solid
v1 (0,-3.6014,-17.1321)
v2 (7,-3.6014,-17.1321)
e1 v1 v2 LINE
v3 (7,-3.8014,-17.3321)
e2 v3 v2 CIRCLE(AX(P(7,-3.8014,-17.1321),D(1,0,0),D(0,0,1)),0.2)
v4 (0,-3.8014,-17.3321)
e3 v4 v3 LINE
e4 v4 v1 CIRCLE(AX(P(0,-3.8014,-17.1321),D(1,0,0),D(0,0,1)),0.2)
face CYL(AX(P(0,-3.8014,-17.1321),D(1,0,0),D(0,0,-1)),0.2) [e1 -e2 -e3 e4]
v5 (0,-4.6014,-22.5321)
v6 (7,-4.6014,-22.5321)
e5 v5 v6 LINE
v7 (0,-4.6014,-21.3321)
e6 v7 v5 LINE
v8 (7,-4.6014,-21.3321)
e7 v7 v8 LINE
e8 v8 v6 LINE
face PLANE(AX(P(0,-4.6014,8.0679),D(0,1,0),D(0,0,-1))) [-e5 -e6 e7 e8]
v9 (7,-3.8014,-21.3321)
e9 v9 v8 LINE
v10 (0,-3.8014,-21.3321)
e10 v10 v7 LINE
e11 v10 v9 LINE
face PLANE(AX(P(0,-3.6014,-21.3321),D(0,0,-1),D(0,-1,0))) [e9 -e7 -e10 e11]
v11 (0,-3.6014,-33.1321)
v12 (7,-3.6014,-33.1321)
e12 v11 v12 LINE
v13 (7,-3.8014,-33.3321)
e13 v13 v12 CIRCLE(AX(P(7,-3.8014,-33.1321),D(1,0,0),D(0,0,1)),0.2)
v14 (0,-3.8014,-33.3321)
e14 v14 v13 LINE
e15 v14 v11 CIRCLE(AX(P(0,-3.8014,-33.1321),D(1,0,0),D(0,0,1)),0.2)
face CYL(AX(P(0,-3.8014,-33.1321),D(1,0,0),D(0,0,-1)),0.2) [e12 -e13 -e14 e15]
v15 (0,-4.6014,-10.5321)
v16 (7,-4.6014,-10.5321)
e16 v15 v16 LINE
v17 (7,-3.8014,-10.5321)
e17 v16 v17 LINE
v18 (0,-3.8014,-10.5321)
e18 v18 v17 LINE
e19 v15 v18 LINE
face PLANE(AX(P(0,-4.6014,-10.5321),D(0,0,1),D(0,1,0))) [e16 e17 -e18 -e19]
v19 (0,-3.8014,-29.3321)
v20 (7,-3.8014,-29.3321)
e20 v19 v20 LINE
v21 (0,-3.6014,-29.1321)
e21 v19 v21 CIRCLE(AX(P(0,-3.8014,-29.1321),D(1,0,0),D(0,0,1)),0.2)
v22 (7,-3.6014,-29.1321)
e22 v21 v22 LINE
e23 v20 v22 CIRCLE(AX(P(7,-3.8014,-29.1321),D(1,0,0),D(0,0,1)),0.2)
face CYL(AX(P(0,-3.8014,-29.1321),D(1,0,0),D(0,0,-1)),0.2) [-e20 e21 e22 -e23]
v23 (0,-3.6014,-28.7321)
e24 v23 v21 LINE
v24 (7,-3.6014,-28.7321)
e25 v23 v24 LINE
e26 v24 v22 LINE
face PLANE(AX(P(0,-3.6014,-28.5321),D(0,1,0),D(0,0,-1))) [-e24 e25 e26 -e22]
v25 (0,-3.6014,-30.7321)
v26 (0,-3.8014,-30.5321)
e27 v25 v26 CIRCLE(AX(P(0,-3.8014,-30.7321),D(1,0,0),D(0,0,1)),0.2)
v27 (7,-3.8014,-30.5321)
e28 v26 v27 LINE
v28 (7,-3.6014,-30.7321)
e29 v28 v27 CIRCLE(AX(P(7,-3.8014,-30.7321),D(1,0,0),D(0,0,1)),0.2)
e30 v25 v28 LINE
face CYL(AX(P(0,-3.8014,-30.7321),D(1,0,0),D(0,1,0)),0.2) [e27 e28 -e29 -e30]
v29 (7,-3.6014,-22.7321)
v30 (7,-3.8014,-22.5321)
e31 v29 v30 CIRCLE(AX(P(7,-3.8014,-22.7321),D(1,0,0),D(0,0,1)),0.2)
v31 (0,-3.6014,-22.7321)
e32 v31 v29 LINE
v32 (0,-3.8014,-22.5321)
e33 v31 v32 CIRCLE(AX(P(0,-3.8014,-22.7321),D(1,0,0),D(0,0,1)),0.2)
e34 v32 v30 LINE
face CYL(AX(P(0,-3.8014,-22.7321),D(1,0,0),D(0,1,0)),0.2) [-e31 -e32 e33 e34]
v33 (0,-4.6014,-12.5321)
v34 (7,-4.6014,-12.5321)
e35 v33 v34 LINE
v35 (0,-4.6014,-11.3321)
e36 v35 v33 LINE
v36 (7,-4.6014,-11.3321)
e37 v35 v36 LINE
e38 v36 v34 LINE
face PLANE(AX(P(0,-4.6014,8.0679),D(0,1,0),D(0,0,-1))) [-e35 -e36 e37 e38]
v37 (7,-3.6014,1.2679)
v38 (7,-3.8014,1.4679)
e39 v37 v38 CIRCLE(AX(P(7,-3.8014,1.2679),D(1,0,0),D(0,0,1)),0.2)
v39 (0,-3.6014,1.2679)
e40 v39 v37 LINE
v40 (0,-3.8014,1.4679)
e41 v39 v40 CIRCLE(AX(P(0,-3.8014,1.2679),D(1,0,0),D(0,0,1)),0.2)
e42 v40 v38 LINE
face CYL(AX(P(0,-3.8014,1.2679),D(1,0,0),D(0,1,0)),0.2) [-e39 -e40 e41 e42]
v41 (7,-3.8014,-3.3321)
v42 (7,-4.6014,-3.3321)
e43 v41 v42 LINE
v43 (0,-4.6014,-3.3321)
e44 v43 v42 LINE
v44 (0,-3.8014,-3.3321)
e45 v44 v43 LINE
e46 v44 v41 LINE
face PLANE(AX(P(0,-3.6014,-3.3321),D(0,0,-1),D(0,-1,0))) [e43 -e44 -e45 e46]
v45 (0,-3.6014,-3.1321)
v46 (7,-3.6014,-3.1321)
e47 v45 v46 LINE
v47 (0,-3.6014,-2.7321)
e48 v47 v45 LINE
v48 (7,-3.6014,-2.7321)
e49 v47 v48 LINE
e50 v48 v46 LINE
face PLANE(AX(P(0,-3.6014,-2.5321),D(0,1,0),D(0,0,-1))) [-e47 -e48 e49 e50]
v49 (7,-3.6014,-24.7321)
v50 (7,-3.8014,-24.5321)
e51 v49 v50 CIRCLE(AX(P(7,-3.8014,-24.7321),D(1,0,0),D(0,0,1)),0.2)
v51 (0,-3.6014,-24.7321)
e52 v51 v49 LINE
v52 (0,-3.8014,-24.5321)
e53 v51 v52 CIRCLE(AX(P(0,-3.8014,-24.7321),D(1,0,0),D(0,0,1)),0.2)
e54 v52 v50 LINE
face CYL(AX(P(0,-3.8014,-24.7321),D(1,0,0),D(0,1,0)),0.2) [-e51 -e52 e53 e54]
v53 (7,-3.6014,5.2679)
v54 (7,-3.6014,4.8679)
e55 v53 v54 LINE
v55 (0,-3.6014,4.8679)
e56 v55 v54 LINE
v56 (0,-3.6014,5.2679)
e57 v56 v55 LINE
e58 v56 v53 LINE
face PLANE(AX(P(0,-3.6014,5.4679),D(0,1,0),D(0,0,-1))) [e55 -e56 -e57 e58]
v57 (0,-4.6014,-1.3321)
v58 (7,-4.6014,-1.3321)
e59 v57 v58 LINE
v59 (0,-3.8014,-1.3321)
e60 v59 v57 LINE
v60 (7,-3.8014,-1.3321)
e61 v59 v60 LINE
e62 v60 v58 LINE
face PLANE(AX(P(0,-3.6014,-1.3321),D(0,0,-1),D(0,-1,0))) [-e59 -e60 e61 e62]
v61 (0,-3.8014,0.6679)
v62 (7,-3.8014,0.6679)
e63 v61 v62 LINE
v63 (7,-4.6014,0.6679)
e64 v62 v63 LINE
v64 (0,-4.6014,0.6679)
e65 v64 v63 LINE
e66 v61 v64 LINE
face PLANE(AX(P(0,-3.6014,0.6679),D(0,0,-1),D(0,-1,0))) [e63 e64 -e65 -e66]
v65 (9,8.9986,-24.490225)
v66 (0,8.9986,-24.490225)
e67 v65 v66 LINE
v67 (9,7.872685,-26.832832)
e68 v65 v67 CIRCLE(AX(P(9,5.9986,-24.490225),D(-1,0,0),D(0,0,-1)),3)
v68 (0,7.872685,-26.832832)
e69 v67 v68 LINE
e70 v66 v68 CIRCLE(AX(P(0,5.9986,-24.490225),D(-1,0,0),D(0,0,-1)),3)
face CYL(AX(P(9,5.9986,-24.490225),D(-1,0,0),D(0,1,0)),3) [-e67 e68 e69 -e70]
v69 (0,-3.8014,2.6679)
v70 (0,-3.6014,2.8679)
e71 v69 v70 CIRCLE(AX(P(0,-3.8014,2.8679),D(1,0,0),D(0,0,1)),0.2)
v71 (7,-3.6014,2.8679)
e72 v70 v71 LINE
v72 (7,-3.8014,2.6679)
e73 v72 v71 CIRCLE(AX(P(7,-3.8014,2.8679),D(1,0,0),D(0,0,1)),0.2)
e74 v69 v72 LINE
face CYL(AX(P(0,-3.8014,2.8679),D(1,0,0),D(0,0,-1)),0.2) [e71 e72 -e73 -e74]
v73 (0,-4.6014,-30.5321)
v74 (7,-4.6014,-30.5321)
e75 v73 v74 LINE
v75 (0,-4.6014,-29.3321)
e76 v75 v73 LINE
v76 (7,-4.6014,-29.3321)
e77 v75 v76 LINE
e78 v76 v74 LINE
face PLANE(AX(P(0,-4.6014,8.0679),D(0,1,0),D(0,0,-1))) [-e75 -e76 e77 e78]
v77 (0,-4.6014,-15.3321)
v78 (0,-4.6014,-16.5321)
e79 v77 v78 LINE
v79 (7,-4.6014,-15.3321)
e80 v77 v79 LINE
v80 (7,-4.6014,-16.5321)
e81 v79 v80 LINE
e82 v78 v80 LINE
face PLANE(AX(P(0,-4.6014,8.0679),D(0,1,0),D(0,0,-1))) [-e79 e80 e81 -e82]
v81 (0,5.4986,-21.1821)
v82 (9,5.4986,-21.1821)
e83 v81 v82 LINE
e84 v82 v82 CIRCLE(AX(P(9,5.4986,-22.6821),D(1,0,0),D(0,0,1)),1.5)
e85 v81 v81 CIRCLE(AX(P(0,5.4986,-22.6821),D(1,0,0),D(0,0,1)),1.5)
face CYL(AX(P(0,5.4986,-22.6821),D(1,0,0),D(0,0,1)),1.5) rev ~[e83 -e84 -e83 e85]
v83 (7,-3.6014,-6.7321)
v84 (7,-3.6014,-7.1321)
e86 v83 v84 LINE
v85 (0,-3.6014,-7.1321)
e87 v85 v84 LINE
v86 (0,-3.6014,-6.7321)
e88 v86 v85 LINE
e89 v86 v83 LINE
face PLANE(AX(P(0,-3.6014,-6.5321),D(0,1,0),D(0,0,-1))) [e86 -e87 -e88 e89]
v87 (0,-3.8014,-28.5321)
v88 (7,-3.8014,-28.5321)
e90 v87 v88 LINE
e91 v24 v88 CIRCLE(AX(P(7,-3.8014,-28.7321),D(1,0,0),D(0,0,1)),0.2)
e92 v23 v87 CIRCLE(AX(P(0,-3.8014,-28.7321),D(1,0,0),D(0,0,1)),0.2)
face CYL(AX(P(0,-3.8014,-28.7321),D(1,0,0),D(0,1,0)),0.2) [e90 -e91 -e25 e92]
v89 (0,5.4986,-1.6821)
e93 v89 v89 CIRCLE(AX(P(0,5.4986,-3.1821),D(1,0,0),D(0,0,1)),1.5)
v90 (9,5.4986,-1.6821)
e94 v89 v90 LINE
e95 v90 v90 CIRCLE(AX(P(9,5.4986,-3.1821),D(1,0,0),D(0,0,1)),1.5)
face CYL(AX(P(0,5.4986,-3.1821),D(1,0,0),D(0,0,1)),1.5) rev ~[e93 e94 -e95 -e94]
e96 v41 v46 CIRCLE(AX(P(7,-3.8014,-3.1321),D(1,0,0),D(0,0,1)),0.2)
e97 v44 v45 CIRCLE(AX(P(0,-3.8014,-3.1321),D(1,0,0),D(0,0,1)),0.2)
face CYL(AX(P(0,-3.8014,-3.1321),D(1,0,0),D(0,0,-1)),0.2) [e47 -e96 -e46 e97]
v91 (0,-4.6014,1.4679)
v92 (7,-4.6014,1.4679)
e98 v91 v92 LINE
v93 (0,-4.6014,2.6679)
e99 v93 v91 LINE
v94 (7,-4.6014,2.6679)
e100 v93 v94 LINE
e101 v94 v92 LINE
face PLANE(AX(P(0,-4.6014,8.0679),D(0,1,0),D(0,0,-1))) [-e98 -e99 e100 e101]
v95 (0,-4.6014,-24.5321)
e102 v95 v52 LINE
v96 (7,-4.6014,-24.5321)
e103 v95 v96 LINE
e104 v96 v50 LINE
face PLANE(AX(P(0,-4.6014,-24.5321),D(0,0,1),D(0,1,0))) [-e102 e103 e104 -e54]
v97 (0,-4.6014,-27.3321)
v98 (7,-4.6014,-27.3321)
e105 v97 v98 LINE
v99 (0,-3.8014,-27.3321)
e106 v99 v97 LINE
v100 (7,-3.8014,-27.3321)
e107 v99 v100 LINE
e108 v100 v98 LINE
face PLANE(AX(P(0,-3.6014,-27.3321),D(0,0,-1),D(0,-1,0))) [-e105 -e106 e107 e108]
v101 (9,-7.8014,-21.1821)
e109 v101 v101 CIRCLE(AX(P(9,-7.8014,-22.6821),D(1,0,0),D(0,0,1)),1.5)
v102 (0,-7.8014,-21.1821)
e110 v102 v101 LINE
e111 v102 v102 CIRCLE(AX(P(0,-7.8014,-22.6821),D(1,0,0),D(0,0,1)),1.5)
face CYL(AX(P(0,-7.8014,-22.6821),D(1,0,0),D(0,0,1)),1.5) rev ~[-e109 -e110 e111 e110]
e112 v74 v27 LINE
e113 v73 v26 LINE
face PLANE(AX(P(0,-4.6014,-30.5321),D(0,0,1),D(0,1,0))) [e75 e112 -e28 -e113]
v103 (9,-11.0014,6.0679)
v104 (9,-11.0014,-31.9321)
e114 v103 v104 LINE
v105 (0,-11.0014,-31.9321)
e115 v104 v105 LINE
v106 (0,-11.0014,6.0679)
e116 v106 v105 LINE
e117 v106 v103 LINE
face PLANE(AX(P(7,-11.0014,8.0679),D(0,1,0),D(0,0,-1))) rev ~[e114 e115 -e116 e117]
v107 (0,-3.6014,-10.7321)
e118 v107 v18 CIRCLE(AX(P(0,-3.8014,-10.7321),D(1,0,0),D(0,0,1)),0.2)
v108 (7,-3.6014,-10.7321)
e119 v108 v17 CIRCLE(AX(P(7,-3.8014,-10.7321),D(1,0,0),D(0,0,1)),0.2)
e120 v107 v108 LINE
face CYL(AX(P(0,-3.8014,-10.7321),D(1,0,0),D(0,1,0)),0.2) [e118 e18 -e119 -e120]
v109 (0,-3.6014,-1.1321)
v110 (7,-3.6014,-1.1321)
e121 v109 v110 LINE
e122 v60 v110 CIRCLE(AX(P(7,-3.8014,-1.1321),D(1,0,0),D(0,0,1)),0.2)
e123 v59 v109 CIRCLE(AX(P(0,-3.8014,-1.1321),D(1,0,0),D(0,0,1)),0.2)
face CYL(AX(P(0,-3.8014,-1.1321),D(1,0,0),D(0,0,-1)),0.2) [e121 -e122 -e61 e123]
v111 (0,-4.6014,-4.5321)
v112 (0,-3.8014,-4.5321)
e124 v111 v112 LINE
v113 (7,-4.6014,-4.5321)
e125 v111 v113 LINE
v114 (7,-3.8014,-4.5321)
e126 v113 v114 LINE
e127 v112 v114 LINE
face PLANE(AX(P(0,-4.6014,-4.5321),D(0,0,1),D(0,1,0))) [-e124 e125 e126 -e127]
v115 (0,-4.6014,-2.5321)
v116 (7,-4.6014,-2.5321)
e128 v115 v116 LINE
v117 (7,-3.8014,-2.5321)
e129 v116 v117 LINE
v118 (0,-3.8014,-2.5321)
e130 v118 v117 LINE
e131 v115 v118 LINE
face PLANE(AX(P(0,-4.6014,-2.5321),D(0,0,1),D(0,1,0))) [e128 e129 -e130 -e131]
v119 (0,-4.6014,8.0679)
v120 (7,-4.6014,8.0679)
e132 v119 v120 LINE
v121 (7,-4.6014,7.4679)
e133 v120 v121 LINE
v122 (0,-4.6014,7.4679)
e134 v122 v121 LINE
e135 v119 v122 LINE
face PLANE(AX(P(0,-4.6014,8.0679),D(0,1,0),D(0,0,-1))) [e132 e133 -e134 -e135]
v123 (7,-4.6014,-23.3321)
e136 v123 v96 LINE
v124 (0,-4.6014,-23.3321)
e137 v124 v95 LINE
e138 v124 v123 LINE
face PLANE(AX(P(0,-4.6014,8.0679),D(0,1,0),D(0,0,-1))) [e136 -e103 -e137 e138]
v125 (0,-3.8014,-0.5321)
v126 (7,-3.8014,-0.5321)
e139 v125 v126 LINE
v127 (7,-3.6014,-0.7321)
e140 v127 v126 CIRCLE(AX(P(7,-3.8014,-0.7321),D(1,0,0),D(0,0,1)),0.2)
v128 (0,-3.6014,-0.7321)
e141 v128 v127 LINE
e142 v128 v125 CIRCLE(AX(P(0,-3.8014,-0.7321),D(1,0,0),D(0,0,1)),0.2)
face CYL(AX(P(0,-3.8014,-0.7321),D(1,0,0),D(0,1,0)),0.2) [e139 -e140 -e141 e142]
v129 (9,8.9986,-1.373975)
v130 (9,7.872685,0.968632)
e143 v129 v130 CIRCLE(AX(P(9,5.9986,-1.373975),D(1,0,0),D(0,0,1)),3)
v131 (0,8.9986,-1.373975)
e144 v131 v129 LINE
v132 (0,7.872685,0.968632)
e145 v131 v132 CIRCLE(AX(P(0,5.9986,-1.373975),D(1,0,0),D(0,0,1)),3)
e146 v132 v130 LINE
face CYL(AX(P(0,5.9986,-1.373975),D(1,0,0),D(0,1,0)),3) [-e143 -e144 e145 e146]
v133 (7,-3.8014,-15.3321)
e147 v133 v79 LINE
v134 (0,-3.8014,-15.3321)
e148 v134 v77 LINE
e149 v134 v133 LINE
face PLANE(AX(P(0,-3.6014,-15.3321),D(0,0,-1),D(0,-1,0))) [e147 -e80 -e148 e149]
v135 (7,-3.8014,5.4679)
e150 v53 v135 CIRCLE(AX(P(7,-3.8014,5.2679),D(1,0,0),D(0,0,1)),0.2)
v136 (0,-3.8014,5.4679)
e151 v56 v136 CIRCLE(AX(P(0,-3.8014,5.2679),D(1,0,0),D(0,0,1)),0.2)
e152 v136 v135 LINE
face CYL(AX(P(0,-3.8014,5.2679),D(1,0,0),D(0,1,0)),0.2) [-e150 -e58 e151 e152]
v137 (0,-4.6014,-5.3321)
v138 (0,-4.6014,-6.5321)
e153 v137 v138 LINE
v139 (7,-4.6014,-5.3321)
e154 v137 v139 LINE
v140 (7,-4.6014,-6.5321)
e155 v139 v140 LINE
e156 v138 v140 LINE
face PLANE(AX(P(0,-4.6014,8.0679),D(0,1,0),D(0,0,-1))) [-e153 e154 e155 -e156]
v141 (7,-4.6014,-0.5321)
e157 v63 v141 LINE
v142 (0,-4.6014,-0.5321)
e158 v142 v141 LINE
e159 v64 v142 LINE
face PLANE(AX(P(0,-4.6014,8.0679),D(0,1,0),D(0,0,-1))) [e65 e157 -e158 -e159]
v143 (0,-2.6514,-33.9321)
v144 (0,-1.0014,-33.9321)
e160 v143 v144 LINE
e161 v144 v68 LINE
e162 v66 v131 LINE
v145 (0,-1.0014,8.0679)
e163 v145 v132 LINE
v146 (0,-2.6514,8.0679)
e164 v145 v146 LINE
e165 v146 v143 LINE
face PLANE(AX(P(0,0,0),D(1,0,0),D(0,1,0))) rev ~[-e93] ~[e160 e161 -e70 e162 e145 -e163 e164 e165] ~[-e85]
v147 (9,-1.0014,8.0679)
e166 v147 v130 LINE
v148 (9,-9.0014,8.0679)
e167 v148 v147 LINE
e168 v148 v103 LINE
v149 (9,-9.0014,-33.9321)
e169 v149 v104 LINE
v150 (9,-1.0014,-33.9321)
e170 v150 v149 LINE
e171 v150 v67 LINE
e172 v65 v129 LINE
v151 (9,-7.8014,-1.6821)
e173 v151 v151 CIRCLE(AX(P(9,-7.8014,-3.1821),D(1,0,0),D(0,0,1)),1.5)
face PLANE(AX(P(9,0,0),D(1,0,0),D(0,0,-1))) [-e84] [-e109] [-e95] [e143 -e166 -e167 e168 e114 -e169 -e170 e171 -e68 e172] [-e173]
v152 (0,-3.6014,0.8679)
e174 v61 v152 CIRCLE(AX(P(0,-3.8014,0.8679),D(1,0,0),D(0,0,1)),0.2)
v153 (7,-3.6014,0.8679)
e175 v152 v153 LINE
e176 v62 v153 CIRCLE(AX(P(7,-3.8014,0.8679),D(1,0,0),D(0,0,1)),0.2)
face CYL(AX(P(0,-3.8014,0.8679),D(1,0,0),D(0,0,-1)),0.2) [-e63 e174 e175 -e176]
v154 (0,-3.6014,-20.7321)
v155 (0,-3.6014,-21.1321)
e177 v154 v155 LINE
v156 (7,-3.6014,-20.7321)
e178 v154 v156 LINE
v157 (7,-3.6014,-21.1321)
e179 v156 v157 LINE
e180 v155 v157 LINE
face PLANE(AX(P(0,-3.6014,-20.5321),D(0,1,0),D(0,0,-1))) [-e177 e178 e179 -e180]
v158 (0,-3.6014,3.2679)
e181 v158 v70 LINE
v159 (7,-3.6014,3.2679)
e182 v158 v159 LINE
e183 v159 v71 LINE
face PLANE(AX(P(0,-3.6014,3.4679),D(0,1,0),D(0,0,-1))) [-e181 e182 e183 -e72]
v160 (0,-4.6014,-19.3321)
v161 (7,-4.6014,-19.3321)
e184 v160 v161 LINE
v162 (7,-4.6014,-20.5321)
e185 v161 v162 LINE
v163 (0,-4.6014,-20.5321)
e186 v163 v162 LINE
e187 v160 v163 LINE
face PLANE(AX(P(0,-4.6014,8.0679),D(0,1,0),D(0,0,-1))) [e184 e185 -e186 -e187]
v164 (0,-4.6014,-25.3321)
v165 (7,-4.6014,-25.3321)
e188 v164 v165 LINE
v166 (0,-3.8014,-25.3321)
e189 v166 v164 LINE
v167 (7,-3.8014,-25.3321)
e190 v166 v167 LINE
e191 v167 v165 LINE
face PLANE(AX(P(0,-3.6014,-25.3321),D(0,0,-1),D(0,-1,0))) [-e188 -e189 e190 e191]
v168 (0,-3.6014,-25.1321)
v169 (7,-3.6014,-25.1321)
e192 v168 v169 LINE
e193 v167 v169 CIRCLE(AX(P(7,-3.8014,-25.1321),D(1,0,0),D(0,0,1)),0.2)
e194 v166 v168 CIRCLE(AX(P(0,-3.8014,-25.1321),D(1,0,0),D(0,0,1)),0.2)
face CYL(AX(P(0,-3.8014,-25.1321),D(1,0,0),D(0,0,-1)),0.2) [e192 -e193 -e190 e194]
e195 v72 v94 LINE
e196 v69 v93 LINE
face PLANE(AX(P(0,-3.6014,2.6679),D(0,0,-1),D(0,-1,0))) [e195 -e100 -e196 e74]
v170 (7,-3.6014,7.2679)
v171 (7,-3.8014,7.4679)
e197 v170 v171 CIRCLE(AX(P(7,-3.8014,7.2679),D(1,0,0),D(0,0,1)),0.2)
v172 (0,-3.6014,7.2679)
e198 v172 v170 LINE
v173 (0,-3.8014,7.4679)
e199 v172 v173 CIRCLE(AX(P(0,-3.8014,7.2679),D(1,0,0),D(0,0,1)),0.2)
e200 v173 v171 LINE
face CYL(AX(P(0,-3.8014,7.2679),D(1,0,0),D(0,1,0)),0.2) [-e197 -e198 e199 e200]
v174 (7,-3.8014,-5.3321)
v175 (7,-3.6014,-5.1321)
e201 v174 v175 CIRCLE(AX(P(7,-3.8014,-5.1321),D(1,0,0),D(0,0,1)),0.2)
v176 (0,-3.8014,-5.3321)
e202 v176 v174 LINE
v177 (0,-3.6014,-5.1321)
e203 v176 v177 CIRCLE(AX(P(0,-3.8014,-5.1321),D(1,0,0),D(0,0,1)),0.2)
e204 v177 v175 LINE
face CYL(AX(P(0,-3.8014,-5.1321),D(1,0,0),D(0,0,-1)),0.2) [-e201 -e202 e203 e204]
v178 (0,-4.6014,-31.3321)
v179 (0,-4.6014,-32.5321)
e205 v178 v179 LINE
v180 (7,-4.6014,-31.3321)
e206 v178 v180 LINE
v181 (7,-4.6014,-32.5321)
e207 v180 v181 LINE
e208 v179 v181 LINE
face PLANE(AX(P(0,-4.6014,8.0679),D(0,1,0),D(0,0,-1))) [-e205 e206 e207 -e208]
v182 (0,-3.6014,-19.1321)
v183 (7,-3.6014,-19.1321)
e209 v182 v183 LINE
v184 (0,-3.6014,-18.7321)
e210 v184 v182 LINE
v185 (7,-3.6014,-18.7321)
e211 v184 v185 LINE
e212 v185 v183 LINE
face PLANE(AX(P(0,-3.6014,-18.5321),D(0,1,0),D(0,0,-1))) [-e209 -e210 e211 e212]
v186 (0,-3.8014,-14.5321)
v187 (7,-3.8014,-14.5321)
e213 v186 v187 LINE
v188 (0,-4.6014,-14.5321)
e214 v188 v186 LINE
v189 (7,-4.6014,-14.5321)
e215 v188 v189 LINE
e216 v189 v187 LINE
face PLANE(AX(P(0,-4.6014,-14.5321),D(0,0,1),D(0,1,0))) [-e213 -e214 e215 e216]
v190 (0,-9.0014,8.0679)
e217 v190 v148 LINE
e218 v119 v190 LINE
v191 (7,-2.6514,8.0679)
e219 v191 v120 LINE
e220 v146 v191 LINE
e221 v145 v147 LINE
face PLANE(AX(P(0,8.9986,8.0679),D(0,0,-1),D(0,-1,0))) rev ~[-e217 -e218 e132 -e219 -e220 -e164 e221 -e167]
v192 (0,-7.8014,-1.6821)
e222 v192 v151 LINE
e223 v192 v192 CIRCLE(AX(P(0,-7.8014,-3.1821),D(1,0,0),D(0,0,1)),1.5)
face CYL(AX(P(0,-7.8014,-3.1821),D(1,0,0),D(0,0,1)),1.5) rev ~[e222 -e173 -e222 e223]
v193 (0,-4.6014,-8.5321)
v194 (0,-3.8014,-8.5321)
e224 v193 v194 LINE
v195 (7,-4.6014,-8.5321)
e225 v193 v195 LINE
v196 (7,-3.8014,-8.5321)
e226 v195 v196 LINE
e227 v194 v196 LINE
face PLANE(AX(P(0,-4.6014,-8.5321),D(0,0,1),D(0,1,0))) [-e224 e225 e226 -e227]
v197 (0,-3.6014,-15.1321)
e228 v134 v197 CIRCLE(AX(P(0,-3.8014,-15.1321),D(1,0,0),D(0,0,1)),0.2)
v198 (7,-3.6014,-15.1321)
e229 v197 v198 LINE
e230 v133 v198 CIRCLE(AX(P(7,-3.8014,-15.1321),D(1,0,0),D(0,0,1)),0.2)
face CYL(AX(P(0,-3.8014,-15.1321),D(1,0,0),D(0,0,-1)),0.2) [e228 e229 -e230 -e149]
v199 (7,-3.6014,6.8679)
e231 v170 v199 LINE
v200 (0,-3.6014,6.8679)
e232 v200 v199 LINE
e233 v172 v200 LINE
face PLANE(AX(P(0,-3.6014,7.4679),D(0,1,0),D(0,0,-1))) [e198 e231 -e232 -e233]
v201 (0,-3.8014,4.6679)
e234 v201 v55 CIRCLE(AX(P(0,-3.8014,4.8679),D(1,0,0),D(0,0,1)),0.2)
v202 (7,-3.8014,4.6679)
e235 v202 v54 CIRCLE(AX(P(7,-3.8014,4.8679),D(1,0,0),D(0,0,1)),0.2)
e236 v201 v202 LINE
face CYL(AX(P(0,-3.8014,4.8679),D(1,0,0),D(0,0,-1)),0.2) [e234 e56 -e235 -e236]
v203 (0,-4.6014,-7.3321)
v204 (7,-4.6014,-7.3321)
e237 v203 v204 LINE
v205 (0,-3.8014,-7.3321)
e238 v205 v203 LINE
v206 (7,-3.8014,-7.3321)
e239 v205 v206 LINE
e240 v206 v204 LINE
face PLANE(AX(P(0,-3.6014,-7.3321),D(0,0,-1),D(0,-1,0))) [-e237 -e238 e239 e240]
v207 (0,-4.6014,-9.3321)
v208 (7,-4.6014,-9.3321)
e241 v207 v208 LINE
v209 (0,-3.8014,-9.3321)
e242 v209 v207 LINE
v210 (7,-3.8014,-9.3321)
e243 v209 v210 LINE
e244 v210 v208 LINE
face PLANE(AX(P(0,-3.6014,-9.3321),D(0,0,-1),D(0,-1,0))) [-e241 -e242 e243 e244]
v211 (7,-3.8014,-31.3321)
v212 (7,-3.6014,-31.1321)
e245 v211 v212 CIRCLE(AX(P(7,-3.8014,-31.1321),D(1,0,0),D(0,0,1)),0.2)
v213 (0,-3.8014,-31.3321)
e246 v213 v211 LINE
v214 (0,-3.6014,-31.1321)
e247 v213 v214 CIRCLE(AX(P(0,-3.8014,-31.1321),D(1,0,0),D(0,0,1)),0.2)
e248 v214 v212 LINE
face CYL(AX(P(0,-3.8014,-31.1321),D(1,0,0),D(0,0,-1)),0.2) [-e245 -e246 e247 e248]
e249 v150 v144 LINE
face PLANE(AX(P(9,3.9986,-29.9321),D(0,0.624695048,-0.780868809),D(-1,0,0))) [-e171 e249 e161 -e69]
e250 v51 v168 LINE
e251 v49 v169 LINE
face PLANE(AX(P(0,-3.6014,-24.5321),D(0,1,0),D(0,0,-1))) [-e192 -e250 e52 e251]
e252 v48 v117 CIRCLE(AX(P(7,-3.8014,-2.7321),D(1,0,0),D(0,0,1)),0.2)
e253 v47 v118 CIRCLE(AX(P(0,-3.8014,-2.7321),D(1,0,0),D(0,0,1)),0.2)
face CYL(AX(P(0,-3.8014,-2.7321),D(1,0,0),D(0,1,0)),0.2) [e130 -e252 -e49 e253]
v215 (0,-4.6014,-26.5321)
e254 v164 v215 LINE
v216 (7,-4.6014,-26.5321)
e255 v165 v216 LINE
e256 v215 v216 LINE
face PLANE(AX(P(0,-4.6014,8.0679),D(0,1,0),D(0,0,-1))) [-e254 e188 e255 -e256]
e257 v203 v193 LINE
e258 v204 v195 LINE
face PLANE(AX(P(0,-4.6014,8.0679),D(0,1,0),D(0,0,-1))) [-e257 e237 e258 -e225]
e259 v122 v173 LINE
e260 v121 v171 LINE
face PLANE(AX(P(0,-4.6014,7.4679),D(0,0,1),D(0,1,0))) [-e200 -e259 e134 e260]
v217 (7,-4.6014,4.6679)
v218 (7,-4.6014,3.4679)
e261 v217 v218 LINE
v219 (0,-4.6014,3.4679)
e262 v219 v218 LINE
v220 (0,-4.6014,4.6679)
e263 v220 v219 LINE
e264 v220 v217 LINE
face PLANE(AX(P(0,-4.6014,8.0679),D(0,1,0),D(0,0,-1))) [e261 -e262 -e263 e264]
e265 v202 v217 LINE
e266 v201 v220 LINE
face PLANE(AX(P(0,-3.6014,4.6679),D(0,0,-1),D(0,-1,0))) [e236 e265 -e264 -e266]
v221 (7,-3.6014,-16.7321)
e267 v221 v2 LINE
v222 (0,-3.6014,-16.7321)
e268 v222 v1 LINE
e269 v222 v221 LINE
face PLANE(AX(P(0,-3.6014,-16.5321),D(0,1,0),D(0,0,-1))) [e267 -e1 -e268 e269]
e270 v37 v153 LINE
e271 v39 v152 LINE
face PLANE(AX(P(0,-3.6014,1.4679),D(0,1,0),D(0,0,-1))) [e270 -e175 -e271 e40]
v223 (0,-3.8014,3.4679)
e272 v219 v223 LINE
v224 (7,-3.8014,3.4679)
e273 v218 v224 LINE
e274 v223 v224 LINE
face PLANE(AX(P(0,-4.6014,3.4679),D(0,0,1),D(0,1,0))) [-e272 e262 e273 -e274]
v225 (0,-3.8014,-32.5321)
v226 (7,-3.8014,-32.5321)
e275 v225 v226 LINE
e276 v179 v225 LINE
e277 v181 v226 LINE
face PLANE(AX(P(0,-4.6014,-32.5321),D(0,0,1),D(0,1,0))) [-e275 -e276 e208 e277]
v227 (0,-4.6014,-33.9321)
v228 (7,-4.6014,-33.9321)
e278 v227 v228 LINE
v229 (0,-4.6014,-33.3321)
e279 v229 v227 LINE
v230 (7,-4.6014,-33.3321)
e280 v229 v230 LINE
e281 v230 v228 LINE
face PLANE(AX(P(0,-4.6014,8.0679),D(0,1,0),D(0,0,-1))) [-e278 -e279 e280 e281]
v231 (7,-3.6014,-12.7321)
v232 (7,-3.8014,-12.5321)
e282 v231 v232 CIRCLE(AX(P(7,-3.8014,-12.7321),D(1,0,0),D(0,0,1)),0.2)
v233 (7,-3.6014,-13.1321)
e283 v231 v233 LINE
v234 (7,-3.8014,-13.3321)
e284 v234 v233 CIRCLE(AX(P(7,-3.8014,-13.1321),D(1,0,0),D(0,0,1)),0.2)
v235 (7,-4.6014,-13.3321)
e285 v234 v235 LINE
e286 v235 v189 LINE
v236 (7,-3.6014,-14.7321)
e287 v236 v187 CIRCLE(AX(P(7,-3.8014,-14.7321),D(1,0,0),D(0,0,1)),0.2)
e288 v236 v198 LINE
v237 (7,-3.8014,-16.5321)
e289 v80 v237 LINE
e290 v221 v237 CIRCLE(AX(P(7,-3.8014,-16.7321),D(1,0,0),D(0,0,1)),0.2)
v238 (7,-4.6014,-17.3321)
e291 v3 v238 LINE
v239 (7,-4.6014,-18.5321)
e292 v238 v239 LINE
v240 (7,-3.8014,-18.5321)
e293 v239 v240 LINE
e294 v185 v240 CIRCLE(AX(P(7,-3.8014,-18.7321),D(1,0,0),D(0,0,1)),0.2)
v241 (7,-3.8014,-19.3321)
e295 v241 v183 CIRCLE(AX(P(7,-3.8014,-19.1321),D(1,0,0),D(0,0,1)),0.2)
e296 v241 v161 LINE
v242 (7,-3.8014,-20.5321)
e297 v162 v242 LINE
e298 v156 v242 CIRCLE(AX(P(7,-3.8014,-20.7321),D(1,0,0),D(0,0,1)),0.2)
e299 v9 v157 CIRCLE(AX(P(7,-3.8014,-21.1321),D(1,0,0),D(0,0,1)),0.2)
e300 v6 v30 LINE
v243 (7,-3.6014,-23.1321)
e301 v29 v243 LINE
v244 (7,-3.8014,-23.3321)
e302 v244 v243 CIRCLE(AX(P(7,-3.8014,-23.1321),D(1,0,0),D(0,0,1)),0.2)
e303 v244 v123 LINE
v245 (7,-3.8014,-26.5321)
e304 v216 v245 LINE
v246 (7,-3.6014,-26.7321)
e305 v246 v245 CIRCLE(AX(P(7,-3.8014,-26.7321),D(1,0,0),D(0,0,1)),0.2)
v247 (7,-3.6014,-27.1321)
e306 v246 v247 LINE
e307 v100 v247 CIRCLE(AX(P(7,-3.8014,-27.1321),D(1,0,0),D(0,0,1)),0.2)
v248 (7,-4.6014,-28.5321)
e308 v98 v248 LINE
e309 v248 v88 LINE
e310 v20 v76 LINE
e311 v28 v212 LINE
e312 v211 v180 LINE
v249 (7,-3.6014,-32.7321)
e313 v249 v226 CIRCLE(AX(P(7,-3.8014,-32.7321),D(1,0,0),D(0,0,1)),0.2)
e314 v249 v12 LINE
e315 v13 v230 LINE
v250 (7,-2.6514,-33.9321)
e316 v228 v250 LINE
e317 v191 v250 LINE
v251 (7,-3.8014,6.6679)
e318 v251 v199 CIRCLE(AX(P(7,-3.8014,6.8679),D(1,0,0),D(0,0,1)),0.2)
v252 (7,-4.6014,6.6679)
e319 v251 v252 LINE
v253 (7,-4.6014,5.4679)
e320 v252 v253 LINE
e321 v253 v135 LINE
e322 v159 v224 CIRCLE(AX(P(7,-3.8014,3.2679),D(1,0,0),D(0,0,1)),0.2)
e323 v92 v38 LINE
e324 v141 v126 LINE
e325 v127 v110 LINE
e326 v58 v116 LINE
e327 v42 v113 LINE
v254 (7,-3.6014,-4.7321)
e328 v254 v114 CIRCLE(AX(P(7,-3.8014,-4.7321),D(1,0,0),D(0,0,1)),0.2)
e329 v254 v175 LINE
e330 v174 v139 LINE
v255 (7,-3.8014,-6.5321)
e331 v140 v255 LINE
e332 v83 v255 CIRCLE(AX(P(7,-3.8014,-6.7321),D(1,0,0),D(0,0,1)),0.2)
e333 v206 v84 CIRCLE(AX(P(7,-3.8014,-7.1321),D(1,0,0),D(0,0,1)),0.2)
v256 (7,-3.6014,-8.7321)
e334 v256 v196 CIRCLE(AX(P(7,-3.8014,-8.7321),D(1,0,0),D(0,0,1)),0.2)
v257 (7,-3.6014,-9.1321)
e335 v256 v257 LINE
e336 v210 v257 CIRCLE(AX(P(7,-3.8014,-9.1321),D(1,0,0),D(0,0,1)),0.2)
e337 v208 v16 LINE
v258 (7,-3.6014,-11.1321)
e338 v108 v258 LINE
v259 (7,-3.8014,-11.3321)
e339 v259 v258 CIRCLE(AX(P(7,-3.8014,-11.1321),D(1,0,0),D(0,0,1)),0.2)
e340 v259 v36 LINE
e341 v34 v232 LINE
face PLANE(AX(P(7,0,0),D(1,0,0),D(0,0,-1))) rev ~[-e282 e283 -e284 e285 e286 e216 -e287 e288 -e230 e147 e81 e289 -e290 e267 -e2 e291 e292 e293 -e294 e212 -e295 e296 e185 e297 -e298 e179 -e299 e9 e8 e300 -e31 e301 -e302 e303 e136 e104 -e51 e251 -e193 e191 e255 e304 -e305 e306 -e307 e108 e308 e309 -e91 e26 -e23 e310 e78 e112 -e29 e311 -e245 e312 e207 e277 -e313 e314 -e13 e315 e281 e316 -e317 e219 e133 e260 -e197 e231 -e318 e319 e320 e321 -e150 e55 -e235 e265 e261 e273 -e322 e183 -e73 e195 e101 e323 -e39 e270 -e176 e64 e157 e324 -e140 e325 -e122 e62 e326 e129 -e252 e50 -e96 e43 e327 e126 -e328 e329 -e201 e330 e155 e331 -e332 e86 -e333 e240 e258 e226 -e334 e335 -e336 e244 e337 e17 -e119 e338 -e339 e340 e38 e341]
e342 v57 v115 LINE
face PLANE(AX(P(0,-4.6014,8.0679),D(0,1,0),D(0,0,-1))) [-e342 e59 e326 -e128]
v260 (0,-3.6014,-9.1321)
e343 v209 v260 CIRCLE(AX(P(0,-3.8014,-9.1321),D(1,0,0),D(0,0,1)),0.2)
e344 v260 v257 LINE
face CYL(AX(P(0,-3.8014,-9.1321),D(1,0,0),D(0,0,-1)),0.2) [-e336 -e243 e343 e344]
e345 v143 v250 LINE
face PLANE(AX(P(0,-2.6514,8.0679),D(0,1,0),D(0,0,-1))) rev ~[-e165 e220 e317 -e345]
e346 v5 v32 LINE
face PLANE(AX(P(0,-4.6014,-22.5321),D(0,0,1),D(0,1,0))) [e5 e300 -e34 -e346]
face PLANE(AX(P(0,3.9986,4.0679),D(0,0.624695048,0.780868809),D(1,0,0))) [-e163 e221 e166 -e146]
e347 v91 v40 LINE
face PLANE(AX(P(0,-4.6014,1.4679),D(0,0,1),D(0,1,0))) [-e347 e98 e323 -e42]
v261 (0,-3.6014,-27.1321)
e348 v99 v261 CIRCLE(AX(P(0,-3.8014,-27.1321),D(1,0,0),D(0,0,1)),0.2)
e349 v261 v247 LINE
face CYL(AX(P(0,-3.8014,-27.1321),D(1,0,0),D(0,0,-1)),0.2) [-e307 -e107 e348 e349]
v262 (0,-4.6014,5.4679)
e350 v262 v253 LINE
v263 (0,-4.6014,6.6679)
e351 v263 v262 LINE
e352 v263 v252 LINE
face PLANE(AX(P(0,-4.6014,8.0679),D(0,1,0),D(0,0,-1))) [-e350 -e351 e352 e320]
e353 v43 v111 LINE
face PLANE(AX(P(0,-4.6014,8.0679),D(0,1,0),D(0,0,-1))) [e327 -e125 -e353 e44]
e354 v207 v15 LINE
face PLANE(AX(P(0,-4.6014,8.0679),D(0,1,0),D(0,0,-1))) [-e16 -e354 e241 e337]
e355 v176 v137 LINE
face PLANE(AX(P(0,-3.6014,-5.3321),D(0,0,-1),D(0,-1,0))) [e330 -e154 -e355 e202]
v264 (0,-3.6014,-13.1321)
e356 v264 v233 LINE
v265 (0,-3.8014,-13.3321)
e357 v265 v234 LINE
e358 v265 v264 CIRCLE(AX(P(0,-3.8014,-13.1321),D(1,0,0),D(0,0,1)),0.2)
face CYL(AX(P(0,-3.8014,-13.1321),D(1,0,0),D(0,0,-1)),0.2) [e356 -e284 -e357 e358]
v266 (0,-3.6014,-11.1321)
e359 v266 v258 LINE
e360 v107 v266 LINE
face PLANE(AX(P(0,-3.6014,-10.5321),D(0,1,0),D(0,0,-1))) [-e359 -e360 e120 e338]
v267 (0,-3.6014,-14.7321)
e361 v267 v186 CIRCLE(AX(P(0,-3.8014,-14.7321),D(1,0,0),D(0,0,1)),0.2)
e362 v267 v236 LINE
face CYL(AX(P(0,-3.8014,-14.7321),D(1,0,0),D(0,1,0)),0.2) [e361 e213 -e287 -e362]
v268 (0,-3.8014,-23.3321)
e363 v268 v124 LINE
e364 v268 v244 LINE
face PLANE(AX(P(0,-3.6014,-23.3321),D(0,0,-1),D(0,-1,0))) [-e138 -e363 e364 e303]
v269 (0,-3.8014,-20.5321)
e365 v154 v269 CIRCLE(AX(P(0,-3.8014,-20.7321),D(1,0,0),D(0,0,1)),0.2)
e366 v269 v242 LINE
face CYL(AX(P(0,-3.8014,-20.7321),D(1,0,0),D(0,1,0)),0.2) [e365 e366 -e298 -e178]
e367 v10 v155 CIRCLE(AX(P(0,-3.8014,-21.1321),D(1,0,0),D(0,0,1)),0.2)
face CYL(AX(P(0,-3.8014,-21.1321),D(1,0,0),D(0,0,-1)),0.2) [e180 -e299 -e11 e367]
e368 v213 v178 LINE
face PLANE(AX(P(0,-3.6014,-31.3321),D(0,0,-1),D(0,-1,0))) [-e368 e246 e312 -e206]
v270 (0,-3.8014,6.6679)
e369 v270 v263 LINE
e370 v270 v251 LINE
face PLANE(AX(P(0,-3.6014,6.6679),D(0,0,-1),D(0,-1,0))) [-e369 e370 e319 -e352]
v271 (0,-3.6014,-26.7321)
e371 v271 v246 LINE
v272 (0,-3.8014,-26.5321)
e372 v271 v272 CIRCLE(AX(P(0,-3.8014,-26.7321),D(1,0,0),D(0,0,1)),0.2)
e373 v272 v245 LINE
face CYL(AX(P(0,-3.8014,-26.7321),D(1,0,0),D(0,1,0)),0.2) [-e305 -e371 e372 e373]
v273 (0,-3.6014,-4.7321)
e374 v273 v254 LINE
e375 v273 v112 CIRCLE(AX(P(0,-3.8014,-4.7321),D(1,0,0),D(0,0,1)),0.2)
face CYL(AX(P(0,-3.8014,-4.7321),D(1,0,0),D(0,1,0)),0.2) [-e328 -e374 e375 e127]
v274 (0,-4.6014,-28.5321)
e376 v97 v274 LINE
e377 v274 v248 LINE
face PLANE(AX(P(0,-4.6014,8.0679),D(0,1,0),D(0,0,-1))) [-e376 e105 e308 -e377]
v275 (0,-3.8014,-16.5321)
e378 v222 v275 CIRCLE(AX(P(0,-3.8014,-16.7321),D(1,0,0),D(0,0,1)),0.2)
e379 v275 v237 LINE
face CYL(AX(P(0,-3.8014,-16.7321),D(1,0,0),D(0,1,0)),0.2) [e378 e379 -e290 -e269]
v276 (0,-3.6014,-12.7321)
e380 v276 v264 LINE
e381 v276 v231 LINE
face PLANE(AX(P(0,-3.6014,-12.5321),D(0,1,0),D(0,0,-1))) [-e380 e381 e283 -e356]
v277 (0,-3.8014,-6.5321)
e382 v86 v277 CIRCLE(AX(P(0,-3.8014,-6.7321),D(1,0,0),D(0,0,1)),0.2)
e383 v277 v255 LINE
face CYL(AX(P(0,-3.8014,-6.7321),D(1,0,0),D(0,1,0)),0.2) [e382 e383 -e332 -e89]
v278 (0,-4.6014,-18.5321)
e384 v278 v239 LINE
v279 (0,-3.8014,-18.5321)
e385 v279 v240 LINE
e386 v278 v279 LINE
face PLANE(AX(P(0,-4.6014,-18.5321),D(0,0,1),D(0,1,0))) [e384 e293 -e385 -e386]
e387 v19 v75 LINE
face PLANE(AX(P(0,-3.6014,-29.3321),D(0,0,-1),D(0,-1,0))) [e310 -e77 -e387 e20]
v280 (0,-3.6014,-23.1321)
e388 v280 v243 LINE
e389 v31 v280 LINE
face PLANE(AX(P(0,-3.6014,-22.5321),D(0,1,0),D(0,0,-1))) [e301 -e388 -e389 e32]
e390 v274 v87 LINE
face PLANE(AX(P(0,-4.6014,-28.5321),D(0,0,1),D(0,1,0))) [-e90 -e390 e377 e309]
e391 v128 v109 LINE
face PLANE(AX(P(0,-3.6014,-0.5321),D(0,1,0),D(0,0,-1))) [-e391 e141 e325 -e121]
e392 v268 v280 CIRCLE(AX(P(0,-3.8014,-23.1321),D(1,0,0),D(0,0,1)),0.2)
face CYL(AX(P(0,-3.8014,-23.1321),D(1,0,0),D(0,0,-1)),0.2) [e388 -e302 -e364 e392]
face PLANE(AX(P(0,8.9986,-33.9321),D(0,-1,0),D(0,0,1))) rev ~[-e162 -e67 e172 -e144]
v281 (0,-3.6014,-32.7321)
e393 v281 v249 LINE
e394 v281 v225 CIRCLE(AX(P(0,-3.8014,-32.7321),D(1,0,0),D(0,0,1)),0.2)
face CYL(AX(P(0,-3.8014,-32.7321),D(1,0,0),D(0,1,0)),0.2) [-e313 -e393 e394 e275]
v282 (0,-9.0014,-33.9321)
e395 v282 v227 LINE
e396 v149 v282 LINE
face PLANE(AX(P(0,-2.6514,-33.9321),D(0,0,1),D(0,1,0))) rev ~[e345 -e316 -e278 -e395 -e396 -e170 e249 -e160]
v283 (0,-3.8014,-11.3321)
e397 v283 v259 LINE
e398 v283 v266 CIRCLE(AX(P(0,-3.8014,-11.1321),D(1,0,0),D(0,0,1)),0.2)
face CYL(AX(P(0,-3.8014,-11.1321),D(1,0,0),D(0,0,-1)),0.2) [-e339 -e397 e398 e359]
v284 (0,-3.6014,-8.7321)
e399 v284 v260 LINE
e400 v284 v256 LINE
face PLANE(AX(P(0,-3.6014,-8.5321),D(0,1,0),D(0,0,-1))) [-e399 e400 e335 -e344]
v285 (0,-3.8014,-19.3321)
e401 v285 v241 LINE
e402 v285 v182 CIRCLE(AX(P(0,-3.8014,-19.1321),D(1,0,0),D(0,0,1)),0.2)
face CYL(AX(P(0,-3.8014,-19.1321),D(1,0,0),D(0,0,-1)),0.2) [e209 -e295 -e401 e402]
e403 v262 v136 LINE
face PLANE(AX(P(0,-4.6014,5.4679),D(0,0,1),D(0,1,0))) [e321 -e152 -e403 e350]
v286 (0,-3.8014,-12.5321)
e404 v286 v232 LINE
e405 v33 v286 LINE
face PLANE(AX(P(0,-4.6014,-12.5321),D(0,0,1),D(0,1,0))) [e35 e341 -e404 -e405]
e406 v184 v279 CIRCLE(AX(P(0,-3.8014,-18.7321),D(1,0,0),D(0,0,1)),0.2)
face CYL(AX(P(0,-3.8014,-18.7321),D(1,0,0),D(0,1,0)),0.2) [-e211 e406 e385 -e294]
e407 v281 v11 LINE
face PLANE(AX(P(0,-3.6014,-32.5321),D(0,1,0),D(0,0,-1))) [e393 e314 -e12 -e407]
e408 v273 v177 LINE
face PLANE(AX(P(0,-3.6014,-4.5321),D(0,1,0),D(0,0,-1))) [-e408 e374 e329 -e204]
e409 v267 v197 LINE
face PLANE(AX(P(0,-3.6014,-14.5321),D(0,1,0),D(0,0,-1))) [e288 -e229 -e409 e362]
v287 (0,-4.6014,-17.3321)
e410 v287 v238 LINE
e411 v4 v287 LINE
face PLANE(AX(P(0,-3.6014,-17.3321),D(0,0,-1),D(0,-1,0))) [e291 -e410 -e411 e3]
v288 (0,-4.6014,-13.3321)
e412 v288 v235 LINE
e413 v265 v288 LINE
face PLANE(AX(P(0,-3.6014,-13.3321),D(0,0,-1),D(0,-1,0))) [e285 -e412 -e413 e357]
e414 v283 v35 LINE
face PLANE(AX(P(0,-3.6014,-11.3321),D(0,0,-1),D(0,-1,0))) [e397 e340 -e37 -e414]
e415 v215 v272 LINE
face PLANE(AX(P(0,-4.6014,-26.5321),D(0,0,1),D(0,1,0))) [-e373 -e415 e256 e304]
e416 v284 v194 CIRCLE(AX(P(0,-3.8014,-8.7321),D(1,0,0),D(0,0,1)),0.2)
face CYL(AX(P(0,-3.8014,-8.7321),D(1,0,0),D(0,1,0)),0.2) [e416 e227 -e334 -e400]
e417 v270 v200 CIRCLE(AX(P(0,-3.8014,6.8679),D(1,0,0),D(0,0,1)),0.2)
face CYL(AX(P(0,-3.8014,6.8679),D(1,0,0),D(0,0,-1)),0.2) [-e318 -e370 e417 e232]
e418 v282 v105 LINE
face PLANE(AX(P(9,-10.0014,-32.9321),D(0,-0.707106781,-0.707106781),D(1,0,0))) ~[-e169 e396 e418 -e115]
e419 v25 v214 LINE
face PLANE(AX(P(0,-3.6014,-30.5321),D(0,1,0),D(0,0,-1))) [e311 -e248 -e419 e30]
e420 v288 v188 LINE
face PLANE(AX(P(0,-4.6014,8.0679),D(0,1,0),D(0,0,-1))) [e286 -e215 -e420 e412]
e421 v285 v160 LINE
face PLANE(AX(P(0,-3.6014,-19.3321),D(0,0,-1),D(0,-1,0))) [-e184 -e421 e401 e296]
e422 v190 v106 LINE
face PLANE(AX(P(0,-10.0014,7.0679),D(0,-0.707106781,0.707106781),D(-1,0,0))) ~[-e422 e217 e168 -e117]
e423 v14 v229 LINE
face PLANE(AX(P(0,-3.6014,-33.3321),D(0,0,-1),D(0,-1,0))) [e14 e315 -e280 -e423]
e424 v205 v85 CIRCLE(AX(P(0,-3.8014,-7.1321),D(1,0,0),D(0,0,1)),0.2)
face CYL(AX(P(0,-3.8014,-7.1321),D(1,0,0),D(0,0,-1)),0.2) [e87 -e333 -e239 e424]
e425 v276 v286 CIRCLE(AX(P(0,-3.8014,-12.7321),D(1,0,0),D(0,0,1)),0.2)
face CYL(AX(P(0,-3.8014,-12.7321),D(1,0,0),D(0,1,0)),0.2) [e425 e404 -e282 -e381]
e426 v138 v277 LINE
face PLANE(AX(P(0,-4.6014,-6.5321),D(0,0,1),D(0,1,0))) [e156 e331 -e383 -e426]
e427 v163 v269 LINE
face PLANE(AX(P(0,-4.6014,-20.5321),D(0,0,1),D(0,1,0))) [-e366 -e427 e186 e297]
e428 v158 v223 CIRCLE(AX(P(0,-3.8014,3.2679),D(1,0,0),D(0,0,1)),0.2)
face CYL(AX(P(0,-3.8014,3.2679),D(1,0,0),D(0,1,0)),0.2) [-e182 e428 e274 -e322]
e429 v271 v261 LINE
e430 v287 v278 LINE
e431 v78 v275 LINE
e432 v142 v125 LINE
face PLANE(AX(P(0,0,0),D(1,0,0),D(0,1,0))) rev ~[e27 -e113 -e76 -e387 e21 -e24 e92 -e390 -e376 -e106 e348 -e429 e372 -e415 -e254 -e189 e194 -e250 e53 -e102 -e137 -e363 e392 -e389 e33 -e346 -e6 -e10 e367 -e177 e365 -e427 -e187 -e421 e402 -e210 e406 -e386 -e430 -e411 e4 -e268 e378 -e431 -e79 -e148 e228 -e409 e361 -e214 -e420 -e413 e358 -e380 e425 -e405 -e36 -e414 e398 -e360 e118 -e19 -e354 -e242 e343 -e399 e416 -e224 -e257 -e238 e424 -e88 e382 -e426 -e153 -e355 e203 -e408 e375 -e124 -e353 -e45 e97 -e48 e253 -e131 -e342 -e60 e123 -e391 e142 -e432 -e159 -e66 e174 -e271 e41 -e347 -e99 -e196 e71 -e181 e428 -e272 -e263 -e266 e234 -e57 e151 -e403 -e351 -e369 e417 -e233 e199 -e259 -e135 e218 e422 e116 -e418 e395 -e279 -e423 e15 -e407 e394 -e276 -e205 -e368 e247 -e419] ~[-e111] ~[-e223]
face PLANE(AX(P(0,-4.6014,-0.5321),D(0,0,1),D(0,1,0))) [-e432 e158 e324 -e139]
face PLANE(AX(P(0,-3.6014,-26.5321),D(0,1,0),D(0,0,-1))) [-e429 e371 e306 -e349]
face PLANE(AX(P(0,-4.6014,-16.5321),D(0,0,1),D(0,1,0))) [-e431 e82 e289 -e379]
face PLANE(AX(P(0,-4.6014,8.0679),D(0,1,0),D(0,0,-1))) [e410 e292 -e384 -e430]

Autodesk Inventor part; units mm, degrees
ref_plane "YZ Plane" through (0, 0, 0) normal (1, 0, 0) x (0, 1, 0)
ref_plane "XZ Plane" through (0, 0, 0) normal (0, 1, 0) x (-1, 0, 0)
ref_plane "XY Plane" through (0, 0, 0) normal (0, 0, 1) x (1, 0, 0)
sketch "Sketch1" plane through (0, 0, 0) normal (1, 0, 0) x (0, 1, 0)
  line L0 (8.9986, 8.0679) -> (-11.0014, 8.0679)
  line L1 (-11.0014, 8.0679) -> (-11.0014, -33.9321)
  line L2 (-11.0014, -33.9321) -> (8.9986, -33.9321)
  line L3 (8.9986, -33.9321) -> (8.9986, 8.0679)
  line L4 (-2.6514, 8.0679) -> (-2.6514, -33.9321)
  line L5 (-4.6014, 8.0679) -> (-4.6014, -33.9321)
  point P0 (0, 0)
  point P1 (5.4986, -3.1821)
  point P2 (-7.8014, -3.1821)
  point P3 (5.4986, -22.6821)
  point P4 (-7.8014, -22.6821)
  dimension "d1" = 42
  dimension "d2" = 1.95
  dimension "d3" = 11.65
  dimension "d4" = 6.4
  dimension "d18" = 11.25
  dimension "d19" = 11.25
  dimension "d20" = 3.5
  dimension "d21" = 3.2
  dimension "d39" = 20
extrude "Extrusion1" add sketch "Sketch1" along normal blind 7 contours L3 L2 L4 L0 | L5 L2 L1 L0
sketch "Sketch2" plane through (7, 0, 0) normal (1, 0, 0) x (0, 0, -1)
  line L0 (-8.0679, 8.9986) -> (-8.0679, -2.6514) projected
  line L1 (-8.0679, -2.6514) -> (33.9321, -2.6514) projected
  line L2 (33.9321, -2.6514) -> (33.9321, 8.9986) projected
  line L3 (33.9321, 8.9986) -> (-8.0679, 8.9986) projected
  line L4 (33.9321, -11.0014) -> (33.9321, -4.6014) projected
  line L5 (33.9321, -4.6014) -> (-8.0679, -4.6014) projected
  line L6 (-8.0679, -4.6014) -> (-8.0679, -11.0014) projected
  line L7 (-8.0679, -11.0014) -> (33.9321, -11.0014) projected
  line L8 (-8.0679, -2.6514) -> (-8.0679, -4.6014)
  line L9 (33.9321, -2.6514) -> (33.9321, 8.9986) projected
  line L10 (33.9321, -11.0014) -> (33.9321, -4.6014) projected
  line L11 (33.9321, -2.6514) -> (33.9321, -4.6014)
  point P0 (0, 0)
extrude "Extrusion2" add sketch "Sketch2" along normal blind 2
sketch "Sketch3" plane through (0, 0, 0) normal (-1, 0, 0) x (0, 0, 1)
  line L0 (-33.9321, -11.0014) -> (-33.9321, -4.6014) projected
  line L1 (8.0679, -11.0014) -> (-33.9321, -11.0014) projected
  line L2 (8.0679, -4.6014) -> (8.0679, -11.0014) projected
  line L3 (-33.9321, -4.6014) -> (8.0679, -4.6014) projected
  line L4 (8.0679, 8.9986) -> (8.0679, -2.6514) projected
  line L5 (-33.9321, 8.9986) -> (8.0679, 8.9986) projected
  line L6 (-33.9321, -2.6514) -> (-33.9321, 8.9986) projected
  line L7 (8.0679, -2.6514) -> (-33.9321, -2.6514) projected
  line L8 (-33.3321, -4.6014) -> (-32.5321, -4.6014)
  line L9 (-32.5321, -4.6014) -> (-32.5321, -3.6014)
  line L10 (-32.5321, -3.6014) -> (-33.3321, -3.6014)
  line L11 (-33.3321, -3.6014) -> (-33.3321, -4.6014)
  point P0 (0, 0)
  dimension "d9" = 1
  dimension "d10" = 0.8
  dimension "d11" = 0.6
extrude "Extrusion3" add sketch "Sketch3" against normal up to surface (7 mm away) contours L11 L10 L9 L3
fillet "Fillet1" radius 0.2 2 edges at (3.5, -3.6014, -33.3321) (3.5, -3.6014, -32.5321)
pattern_linear "Rectangular Pattern1" count 21 spacing 2 along (0, 0, 1) of "Extrusion3", "Fillet1"
hole "Hole1" at (0, 5.4986, -3.1821) at (0, -7.8014, -3.1821) at (0, -7.8014, -22.6821) at (0, 5.4986, -22.6821) direction (1, 0, 0) diameter 3 end through all
chamfer "Chamfer1" distance 2 angle 45 2 edges at (4.5, -11.0014, 8.0679) (4.5, -11.0014, -33.9321)
chamfer "Chamfer2" distance 10 distance2 8 1 edges at (4.5, 8.9986, -33.9321) measured on face at (5.3333, 5.1153, -33.9321)
chamfer "Chamfer3" distance 10 distance2 8 1 edges at (4.5, 8.9986, 8.0679) measured on face at (5.3333, 5.1153, 8.0679)
fillet "Fillet2" radius 3 2 edges at (4.5, 8.9986, -25.9321) (4.5, 8.9986, 0.0679)
equation "\"d19\" = d18"
equation "\"d21\" = 0.5 * d4"
properties part number "3DP_PLA_Y_axis_belt_mount" material "ABS Plastic"
